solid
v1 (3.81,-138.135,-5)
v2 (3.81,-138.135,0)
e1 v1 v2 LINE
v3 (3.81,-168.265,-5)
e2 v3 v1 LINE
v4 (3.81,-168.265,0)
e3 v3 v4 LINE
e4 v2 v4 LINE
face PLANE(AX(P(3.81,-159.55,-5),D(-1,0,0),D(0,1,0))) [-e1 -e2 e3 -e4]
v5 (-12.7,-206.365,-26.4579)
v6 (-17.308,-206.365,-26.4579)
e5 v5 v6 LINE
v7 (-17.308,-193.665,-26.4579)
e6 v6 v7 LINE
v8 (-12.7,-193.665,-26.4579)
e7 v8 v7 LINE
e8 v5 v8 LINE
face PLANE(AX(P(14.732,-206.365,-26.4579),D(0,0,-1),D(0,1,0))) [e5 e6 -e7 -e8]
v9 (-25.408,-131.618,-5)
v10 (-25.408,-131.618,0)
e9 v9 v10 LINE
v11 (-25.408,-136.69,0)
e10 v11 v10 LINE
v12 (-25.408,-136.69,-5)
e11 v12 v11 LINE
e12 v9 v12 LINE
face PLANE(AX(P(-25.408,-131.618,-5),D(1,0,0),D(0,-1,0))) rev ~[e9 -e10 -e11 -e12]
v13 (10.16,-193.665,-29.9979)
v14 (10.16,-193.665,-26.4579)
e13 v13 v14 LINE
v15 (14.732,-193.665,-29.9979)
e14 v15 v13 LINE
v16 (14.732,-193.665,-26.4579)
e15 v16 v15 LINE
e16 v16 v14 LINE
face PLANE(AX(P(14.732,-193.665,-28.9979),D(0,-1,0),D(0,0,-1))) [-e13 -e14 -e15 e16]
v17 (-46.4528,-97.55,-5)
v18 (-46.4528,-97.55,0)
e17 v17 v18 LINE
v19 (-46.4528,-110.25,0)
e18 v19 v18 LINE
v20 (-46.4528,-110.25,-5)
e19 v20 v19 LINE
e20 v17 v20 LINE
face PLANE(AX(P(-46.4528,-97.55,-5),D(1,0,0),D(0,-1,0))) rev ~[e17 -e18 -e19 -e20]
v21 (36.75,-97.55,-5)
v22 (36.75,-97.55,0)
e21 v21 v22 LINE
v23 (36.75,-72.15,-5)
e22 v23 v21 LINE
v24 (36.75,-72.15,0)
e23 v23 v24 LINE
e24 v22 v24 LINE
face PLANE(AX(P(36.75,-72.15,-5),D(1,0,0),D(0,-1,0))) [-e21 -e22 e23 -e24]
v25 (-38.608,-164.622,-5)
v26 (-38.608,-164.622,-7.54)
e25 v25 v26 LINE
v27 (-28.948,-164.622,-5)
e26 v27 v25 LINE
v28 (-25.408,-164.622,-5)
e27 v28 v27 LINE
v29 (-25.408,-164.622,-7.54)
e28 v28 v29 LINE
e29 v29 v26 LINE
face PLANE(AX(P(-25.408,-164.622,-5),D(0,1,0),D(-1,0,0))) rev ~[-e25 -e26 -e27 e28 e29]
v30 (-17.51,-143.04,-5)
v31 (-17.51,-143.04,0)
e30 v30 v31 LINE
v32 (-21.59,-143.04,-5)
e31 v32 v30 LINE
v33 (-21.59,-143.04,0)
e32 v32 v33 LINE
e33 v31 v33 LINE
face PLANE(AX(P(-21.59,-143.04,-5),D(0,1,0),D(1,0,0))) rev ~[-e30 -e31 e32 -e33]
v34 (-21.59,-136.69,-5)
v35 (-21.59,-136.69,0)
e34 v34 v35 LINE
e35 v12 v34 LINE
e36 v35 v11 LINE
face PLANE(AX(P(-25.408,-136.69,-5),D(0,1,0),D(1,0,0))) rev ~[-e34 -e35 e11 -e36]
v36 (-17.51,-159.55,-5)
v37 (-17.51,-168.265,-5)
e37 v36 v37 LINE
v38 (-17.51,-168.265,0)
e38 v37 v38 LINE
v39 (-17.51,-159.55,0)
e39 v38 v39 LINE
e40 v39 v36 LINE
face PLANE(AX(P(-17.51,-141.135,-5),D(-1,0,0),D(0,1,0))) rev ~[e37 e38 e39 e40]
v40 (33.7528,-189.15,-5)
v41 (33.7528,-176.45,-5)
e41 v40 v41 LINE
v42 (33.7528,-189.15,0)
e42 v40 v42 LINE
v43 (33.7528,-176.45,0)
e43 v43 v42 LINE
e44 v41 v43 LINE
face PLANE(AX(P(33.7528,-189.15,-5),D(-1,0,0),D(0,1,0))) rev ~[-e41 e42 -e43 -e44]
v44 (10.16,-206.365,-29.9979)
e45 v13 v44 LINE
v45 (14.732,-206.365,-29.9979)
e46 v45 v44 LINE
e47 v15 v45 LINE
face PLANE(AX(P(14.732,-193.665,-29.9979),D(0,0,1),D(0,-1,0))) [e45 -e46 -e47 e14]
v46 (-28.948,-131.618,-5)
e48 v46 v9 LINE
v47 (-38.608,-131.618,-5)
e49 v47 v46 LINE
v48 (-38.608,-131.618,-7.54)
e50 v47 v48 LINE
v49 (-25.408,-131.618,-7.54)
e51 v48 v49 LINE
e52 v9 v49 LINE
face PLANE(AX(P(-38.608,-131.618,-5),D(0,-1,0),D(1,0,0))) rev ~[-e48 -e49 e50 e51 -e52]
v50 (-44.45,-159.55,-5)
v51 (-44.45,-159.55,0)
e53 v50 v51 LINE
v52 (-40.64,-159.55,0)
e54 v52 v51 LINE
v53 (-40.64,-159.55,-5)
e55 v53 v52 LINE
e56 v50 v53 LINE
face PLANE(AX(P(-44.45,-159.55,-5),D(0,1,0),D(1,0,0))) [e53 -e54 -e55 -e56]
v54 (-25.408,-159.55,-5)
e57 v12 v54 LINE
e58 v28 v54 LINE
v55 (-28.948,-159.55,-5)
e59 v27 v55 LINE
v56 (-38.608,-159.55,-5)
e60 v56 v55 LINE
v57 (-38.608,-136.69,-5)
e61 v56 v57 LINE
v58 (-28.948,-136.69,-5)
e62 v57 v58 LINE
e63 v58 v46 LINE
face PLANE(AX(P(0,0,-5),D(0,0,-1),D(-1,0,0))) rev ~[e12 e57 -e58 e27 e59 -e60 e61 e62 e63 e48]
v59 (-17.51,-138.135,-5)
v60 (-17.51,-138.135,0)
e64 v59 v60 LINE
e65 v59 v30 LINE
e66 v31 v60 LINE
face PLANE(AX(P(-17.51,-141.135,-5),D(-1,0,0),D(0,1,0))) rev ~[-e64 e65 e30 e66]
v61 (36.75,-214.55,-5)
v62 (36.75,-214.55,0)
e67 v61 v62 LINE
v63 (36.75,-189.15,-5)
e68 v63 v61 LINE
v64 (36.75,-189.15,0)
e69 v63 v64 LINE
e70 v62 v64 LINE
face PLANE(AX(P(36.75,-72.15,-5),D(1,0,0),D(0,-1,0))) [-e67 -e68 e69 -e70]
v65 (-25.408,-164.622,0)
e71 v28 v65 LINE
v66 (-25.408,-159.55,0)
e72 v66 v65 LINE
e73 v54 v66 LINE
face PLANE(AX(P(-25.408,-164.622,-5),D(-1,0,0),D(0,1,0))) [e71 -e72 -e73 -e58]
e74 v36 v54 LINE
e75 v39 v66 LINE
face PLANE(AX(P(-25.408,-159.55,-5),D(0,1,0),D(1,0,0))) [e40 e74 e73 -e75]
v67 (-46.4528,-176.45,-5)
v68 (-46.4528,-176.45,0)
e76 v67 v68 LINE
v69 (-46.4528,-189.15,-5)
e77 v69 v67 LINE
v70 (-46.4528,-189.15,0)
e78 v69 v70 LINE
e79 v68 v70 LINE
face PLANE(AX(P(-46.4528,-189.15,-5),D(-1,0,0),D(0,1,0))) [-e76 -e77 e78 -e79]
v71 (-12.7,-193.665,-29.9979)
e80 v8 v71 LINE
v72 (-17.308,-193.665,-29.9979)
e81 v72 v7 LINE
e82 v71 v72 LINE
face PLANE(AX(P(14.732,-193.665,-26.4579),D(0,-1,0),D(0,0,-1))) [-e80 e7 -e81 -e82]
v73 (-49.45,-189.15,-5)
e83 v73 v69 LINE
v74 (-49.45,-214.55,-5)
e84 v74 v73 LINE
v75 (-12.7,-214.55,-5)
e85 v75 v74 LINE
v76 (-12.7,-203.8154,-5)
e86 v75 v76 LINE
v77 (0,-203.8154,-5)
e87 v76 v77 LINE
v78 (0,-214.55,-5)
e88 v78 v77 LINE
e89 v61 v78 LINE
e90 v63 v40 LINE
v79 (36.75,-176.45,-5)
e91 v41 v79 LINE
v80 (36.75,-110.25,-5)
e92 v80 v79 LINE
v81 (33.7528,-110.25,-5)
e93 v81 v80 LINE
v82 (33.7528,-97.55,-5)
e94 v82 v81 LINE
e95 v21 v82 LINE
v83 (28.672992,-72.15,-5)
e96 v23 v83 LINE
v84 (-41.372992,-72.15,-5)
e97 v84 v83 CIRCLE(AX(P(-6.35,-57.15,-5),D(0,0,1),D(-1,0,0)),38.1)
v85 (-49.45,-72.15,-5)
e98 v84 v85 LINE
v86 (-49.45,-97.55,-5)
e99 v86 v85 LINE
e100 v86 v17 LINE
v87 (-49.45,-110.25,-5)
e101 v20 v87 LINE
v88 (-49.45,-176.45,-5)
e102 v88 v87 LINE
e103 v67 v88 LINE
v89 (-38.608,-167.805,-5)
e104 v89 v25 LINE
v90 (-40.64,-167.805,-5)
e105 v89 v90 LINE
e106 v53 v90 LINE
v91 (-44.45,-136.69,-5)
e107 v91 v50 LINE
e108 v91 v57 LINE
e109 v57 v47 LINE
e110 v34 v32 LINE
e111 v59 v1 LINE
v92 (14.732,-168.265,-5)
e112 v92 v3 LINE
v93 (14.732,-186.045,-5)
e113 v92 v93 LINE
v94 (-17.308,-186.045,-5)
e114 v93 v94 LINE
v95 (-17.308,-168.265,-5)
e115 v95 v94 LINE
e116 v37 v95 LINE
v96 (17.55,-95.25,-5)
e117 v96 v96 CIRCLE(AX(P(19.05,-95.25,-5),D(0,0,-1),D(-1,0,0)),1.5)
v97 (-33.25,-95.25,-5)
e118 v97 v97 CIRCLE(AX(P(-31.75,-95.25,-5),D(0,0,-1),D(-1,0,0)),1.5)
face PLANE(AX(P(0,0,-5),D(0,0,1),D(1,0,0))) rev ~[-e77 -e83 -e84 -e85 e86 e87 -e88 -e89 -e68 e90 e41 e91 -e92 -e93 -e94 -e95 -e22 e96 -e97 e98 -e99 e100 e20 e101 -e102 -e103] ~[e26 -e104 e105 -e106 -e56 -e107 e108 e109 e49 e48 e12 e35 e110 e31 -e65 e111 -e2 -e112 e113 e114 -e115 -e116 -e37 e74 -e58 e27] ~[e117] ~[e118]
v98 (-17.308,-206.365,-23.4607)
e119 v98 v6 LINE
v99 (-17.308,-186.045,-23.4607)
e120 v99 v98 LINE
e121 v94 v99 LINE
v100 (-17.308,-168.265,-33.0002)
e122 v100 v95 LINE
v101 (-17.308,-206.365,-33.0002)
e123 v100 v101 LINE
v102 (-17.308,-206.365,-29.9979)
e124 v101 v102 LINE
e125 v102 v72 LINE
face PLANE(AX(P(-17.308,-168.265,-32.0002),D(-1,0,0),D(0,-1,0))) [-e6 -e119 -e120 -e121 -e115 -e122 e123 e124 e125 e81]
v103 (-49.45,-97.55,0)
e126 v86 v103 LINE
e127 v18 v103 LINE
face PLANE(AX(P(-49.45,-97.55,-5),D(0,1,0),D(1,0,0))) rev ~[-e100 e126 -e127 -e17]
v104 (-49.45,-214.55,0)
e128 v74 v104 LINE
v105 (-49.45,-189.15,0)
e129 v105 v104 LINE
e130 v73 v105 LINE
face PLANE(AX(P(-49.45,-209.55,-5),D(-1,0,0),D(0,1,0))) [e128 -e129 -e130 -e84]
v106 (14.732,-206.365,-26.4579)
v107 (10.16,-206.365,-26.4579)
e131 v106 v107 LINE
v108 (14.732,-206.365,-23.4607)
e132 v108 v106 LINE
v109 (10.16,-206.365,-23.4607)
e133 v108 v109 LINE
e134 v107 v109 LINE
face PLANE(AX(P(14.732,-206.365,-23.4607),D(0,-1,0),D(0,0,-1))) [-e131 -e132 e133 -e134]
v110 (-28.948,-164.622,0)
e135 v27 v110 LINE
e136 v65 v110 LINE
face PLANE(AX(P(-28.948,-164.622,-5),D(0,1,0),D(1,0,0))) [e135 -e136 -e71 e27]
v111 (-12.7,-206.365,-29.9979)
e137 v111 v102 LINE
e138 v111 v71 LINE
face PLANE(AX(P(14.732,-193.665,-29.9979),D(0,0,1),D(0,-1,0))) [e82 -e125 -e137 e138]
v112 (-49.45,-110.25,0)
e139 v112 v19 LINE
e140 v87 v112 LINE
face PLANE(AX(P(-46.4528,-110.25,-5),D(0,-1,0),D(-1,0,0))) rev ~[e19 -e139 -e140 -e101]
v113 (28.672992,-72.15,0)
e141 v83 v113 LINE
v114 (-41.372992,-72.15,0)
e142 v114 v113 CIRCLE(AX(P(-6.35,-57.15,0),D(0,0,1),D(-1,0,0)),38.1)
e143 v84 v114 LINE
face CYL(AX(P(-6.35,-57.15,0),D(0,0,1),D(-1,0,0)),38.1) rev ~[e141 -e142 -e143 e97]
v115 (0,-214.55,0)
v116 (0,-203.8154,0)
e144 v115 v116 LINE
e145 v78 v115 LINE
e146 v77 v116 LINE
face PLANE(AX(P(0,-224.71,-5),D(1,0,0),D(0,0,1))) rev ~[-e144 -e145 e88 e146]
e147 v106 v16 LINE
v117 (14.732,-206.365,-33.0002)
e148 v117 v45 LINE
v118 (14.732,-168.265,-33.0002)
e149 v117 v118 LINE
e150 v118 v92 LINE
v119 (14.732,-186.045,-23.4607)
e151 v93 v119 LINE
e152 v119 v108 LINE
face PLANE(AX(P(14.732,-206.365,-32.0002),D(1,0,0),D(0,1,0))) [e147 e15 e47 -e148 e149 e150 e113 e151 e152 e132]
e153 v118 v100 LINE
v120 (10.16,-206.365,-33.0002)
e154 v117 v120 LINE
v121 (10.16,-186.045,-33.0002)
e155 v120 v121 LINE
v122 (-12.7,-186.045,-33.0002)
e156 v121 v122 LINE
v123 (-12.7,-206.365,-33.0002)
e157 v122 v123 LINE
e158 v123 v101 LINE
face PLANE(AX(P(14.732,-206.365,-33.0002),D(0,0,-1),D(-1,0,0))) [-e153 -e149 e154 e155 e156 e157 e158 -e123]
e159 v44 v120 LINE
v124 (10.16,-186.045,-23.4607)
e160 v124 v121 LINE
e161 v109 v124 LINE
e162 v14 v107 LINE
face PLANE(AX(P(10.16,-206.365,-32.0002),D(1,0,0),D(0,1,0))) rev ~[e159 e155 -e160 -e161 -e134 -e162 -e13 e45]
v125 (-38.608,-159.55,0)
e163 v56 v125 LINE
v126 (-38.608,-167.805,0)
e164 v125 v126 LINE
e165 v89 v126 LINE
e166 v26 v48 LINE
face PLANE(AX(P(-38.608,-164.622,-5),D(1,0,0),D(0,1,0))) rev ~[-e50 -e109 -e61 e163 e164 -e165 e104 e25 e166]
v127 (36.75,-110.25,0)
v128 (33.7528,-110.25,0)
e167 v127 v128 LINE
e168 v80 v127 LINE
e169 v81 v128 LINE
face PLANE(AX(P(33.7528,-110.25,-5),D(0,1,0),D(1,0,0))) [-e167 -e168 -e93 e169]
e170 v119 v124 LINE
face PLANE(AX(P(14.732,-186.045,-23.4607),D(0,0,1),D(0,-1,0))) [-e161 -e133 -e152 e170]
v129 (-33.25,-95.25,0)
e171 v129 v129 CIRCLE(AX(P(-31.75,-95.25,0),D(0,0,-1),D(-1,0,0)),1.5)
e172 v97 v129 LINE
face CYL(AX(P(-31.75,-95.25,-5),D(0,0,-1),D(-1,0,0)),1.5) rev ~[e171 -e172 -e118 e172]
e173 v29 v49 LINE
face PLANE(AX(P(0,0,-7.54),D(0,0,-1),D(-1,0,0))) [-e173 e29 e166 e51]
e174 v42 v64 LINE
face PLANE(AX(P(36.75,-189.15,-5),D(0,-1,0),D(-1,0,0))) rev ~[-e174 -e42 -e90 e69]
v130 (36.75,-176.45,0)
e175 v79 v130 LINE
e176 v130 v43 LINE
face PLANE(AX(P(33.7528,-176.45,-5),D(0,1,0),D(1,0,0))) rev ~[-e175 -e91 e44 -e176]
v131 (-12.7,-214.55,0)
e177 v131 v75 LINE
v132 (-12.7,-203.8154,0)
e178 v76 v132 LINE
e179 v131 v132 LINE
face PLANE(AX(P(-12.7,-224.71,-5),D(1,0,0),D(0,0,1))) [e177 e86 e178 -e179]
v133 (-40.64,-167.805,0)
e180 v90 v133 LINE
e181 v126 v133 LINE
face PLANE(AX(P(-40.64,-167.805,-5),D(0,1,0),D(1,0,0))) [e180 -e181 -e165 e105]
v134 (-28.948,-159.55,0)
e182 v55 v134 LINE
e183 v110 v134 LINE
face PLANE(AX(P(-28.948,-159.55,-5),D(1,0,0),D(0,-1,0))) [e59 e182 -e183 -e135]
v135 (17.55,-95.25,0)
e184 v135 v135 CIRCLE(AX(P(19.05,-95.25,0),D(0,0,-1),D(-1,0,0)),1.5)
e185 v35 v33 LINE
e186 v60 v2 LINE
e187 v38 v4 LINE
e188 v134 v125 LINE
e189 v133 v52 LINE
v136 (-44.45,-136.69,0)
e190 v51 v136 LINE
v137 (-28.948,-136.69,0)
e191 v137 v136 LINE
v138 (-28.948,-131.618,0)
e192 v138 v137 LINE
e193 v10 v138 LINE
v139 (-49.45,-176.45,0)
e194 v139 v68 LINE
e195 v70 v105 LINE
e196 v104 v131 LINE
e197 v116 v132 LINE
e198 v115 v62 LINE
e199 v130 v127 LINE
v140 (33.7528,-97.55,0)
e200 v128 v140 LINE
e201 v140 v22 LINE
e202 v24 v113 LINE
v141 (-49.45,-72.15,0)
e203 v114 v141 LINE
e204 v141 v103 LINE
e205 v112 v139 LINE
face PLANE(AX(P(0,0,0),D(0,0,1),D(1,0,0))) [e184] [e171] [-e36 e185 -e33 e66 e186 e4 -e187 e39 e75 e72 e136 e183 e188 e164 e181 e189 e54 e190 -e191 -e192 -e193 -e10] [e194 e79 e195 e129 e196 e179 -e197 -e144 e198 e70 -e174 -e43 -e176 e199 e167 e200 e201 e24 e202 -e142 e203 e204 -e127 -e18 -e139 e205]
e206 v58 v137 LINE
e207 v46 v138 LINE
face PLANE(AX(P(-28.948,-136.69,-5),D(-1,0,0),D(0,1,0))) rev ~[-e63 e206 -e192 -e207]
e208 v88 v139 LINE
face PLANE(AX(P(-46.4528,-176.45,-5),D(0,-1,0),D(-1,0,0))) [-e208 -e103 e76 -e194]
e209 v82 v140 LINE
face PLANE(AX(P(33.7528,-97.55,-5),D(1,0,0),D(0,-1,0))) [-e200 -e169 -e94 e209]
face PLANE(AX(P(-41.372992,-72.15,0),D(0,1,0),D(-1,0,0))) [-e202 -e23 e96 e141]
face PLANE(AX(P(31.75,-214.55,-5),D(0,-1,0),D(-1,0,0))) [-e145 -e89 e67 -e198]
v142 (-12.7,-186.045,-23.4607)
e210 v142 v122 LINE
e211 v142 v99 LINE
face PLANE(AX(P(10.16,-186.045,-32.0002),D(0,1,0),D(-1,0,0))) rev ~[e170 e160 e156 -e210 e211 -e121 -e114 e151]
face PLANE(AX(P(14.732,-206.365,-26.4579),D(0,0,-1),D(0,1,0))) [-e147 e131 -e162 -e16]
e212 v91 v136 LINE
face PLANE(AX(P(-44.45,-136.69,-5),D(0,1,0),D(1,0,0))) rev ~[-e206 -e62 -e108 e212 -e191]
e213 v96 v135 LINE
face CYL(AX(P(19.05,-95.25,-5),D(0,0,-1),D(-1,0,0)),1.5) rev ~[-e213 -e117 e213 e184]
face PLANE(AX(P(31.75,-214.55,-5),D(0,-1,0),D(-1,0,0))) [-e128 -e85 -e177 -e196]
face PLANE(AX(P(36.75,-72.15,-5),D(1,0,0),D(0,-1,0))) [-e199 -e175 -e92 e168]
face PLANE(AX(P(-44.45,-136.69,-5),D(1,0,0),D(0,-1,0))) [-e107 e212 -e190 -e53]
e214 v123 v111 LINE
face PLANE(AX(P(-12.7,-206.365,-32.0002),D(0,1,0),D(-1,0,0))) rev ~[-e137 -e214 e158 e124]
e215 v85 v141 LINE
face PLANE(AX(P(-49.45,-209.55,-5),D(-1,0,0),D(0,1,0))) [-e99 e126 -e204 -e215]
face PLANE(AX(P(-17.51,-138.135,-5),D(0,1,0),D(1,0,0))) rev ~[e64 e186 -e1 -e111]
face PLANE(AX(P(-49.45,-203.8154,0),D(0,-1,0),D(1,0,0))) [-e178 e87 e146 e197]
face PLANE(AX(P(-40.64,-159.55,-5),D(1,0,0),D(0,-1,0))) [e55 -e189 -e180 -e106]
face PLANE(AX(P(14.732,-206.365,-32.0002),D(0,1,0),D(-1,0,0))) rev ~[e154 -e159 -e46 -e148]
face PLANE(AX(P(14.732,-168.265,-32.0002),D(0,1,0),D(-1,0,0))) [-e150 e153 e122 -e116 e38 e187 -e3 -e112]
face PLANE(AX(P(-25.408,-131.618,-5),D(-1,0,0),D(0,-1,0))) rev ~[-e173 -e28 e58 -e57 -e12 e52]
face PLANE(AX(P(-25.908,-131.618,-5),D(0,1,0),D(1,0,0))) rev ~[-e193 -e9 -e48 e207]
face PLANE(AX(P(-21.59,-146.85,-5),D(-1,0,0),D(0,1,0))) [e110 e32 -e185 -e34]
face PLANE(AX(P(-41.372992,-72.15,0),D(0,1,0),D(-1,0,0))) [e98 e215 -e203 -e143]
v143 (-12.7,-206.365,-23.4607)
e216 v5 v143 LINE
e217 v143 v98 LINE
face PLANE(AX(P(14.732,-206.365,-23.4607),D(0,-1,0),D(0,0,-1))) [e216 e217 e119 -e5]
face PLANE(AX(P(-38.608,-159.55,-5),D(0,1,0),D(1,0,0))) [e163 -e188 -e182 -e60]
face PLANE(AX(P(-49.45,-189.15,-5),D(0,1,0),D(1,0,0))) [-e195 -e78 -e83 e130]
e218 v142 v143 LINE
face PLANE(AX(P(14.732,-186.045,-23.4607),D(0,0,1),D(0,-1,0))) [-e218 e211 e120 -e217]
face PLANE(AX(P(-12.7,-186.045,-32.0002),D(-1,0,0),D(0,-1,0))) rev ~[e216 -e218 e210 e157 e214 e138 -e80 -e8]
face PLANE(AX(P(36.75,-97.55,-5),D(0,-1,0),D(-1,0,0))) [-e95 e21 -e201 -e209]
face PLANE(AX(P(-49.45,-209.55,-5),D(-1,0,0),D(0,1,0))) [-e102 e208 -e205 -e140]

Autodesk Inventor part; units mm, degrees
ref_plane "YZ Plane" through (0, 0, 0) normal (1, 0, 0) x (0, 1, 0)
ref_plane "XZ Plane" through (0, 0, 0) normal (0, 1, 0) x (-1, 0, 0)
ref_plane "XY Plane" through (0, 0, 0) normal (0, 0, 1) x (1, 0, 0)
sketch "Sketch1" plane through (0, 0, 0) normal (0, 0, 1) x (1, 0, 0)
  line L0 (31.75, -57.15) -> (31.75, 82.55)
  line L1 (31.75, 82.55) -> (-44.45, 82.55)
  line L2 (-44.45, 82.55) -> (-44.45, -57.15)
  arc A0 (-44.45, -57.15) -> (31.75, -57.15) centre (-6.35, -57.15) ccw
  line L3 (31.75, -57.15) -> (31.75, -209.55)
  line L4 (31.75, -209.55) -> (-44.45, -209.55)
  line L5 (-44.45, -209.55) -> (-44.45, -57.15)
  line L6 (31.75, -57.15) -> (-44.45, -57.15)
  circle A1 centre (-6.35, -57.15) radius 38.1
  point P0 (0, 0)
  dimension "d0" = 152.4
  dimension "d6" = 76.2
extrude "Extrusion1" add sketch "Sketch1" against normal blind 5 contours L3 L4 L5 A0
sketch "Sketch2" plane through (0, 0, 0) normal (0, 0, 1) x (1, 0, 0)
  arc A0 (-44.45, -57.15) -> (31.75, -57.15) centre (-6.35, -57.15) ccw projected
  line L0 (31.75, -57.15) -> (31.75, -209.55) projected
  line L1 (-44.45, -57.15) -> (31.75, -57.15)
  line L2 (31.75, -57.15) -> (31.75, -72.15)
  line L3 (31.75, -72.15) -> (-44.45, -72.15)
  line L4 (-44.45, -72.15) -> (-44.45, -57.15)
  point P0 (0, 0)
  dimension "d3" = 15
extrude "Extrusion2" cut sketch "Sketch2" against normal blind 5 contours L1 A0 L3 | A0 L3 L4 | L0 L3 A0
sketch "Sketch3" plane through (0, 0, -5) normal (0, 0, -1) x (-1, 0, 0)
  line L0 (16.51, -146.85) -> (16.51, -159.55) projected
  line L1 (-3.81, -159.55) -> (-3.81, -146.85) projected
  line L2 (16.51, -159.55) -> (16.51, -161.55)
  line L3 (-3.81, -146.85) -> (-3.81, -144.85)
  line L4 (4.857, -150.5555) -> (16.51, -161.55)
  line L5 (8.3369, -156.3105) -> (-3.81, -144.85)
  line L6 (16.51, -141.135) -> (12.446, -141.135)
  line L7 (16.51, -165.265) -> (12.446, -165.265)
  line L8 (16.51, -141.135) -> (17.51, -141.135)
  line L9 (17.51, -141.135) -> (17.51, -138.135)
  line L10 (17.51, -138.135) -> (-3.81, -138.135)
  line L11 (-3.81, -138.135) -> (-3.81, -163.265)
  line L12 (-3.81, -163.265) -> (-3.81, -164.265)
  line L13 (17.51, -138.135) -> (17.51, -165.265)
  line L14 (17.51, -165.265) -> (17.51, -168.265)
  line L15 (17.51, -168.265) -> (-3.81, -168.265)
  line L16 (-3.81, -168.265) -> (-3.81, -164.265)
  point P0 (0, 0)
  point P1 (17.51, -164.265)
  dimension "d7" = 2
  dimension "d8" = 2
  dimension "d28" = 1
  dimension "d29" = 3
  dimension "d30" = 1
  dimension "d73" = 3
extrude "Extrusion3" cut sketch "Sketch3" against normal blind 5
sketch "Sketch4" plane through (0, 0, -5) normal (0, 0, -1) x (-1, 0, 0)
  line L0 (-31.75, -72.15) -> (-28.673, -72.15) projected
  line L1 (-31.75, -72.15) -> (-36.75, -72.15)
  line L2 (-36.75, -72.15) -> (-36.75, -209.55)
  line L3 (-36.75, -209.55) -> (-36.75, -214.55)
  line L4 (-36.75, -214.55) -> (44.45, -214.55)
  line L5 (44.45, -214.55) -> (49.45, -214.55)
  line L6 (49.45, -214.55) -> (49.45, -72.15)
  line L7 (49.45, -72.15) -> (44.45, -72.15)
  line L8 (44.45, -72.15) -> (44.45, -214.55)
  line L9 (44.45, -214.55) -> (49.45, -214.55)
  line L10 (49.45, -214.55) -> (49.45, -72.15)
  line L11 (49.45, -214.55) -> (-36.75, -214.55)
  line L12 (-36.75, -214.55) -> (-36.75, -209.55)
  line L13 (-36.75, -209.55) -> (49.45, -209.55)
  line L14 (49.45, -209.55) -> (49.45, -214.55)
  line L15 (-36.75, -214.55) -> (-31.75, -214.55)
  line L16 (-31.75, -214.55) -> (-31.75, -72.15)
  line L17 (-31.75, -72.15) -> (-36.75, -72.15)
  line L18 (-36.75, -72.15) -> (-36.75, -214.55)
  point P0 (0, 0)
  dimension "d11" = 5
  dimension "d12" = 5
  dimension "d13" = 5
extrude "Extrusion4" add sketch "Sketch4" against normal blind 5
sketch "Sketch6" plane through (-49.45, -214.55, 0) normal (0, -1, 0) x (1, 0, 0)
  line L0 (32.94, 0) -> (53.26, 0) projected
  line L1 (43.1, 0) -> (36.75, 0)
  line L2 (36.75, 0) -> (49.45, 0)
  line L3 (86.2, -5) -> (0, -5) projected
  line L4 (49.45, 0) -> (36.75, 0)
  line L5 (36.75, 0) -> (36.75, -5)
  line L6 (36.75, -5) -> (49.45, -5)
  line L7 (49.45, -5) -> (49.45, 0)
  point P0 (64.1616, -5)
  dimension "d18" = 6.35
  dimension "d19" = 12.7
extrude "Extrusion6" add sketch "Sketch6" along normal blind 10.16
sketch "Sketch7" plane through (0, 0, -5) normal (0, 0, -1) x (-1, 0, 0)
  line L0 (12.7, -224.71) -> (0, -224.71) projected
  line L1 (6.35, -224.71) -> (6.35, -220.9)
  circle A0 centre (6.35, -220.9) radius 1.75
  point P0 (0, 0)
  dimension "d26" = 3.81
  dimension "d27" = 3.5
extrude "Extrusion7" cut sketch "Sketch7" against normal blind 6.35
sketch "Sketch8" plane through (0, 0, -5) normal (0, 0, -1) x (-1, 0, 0)
  line L0 (44.45, -136.69) -> (28.448, -136.69) projected
  line L1 (44.45, -158.28) -> (44.45, -137.96) projected
  line L2 (44.45, -136.69) -> (44.45, -137.96) projected
  line L3 (44.45, -158.28) -> (44.45, -159.55) projected
  line L4 (44.45, -159.55) -> (28.448, -159.55) projected
  line L5 (39.116, -159.55) -> (40.132, -159.55) projected
  line L6 (39.116, -159.55) -> (39.116, -162.09) projected
  line L7 (40.132, -162.09) -> (39.116, -162.09) projected
  line L8 (40.132, -159.55) -> (40.132, -162.09) projected
  line L9 (25.908, -137.96) -> (21.59, -137.96) projected
  line L10 (21.59, -153.2) -> (21.59, -137.96) projected
  line L11 (21.59, -158.28) -> (21.59, -153.2) projected
  line L12 (25.908, -158.28) -> (21.59, -158.28) projected
  line L13 (25.908, -158.28) -> (25.908, -164.122) projected
  line L14 (25.908, -164.122) -> (28.448, -164.122) projected
  line L15 (28.448, -158.28) -> (28.448, -164.122) projected
  line L16 (44.45, -158.28) -> (28.448, -158.28) projected
  line L17 (44.45, -158.28) -> (44.45, -137.96) projected
  line L18 (44.45, -137.96) -> (28.448, -137.96) projected
  line L19 (28.448, -132.118) -> (28.448, -137.96) projected
  line L20 (25.908, -132.118) -> (28.448, -132.118) projected
  line L21 (25.908, -132.118) -> (25.908, -137.96) projected
  line L22 (25.908, -136.69) -> (21.59, -136.69) projected
  line L23 (21.59, -136.69) -> (21.59, -137.96) projected
  line L24 (25.908, -159.55) -> (21.59, -159.55) projected
  line L25 (21.59, -159.55) -> (16.51, -159.55)
  line L26 (21.59, -146.85) -> (16.51, -146.85)
  line L27 (17.51, -140.135) -> (17.51, -166.265) projected
  line L28 (44.45, -159.55) -> (21.59, -159.55)
  line L29 (21.59, -159.55) -> (21.59, -136.69)
  line L30 (21.59, -136.69) -> (44.45, -136.69)
  line L31 (44.45, -136.69) -> (44.45, -159.55)
  line L32 (28.448, -132.118) -> (25.908, -132.118)
  line L33 (25.908, -132.118) -> (25.908, -136.69)
  line L34 (25.908, -136.69) -> (28.448, -136.69)
  line L35 (28.448, -136.69) -> (28.448, -132.118)
  line L36 (25.908, -159.55) -> (28.448, -159.55)
  line L37 (28.448, -159.55) -> (28.448, -164.122)
  line L38 (28.448, -164.122) -> (25.908, -164.122)
  line L39 (25.908, -164.122) -> (25.908, -159.55)
  line L40 (40.132, -162.09) -> (39.116, -162.09)
  line L41 (39.116, -162.09) -> (39.116, -159.55)
  line L42 (39.116, -159.55) -> (40.132, -159.55)
  line L43 (40.132, -159.55) -> (40.132, -162.09)
  line L44 (16.51, -146.85) -> (21.59, -146.85)
  line L45 (21.59, -146.85) -> (21.59, -159.55)
  line L46 (21.59, -159.55) -> (16.51, -159.55)
  line L47 (16.51, -159.55) -> (16.51, -146.85)
  line L48 (40.132, -159.55) -> (40.64, -159.55)
  line L49 (40.64, -159.55) -> (40.64, -167.805)
  line L50 (40.64, -167.805) -> (39.116, -167.805)
  line L51 (39.116, -167.805) -> (38.608, -167.805)
  line L52 (38.608, -167.805) -> (38.608, -159.55)
  line L53 (40.64, -167.805) -> (38.608, -167.805)
  line L54 (38.608, -167.805) -> (38.608, -159.55)
  line L55 (38.608, -159.55) -> (40.64, -159.55)
  line L56 (40.64, -159.55) -> (40.64, -167.805)
  line L57 (28.448, -136.69) -> (28.948, -136.69)
  line L58 (28.948, -136.69) -> (28.948, -132.118)
  line L59 (28.948, -132.118) -> (28.948, -131.618)
  line L60 (28.948, -131.618) -> (25.908, -131.618)
  line L61 (25.908, -131.618) -> (25.408, -131.618)
  line L62 (25.408, -131.618) -> (25.408, -136.69)
  line L63 (44.45, -148.12) -> (42.0007, -148.12)
  line L64 (28.448, -164.122) -> (28.448, -158.28)
  line L65 (25.908, -164.122) -> (28.448, -164.122)
  line L66 (25.908, -164.122) -> (25.908, -158.28)
  line L67 (28.448, -164.122) -> (25.908, -164.122)
  line L68 (25.908, -164.122) -> (25.908, -159.55)
  line L69 (28.448, -159.55) -> (28.448, -164.122)
  line L70 (28.948, -159.55) -> (28.948, -164.122)
  line L71 (28.948, -164.122) -> (28.948, -164.622)
  line L72 (28.948, -164.622) -> (25.908, -164.622)
  line L73 (25.908, -164.622) -> (25.408, -164.622)
  line L74 (25.408, -164.622) -> (25.408, -159.55)
  line L75 (28.948, -159.55) -> (25.408, -159.55)
  line L76 (25.408, -159.55) -> (25.408, -164.622)
  line L77 (25.408, -164.622) -> (28.948, -164.622)
  line L78 (28.948, -164.622) -> (28.948, -159.55)
  point P0 (0, 0)
  dimension "d33" = 0.508
  dimension "d34" = 8.255
  dimension "d35" = 0.508
  dimension "d45" = 0.5
  dimension "d46" = 0.5
  dimension "d47" = 0.5
extrude "Extrusion8" cut sketch "Sketch8" against normal blind 25.4
ref_plane "Work Plane1" through (-5.588, -193.539, -26.4481) normal (1, 0, 0) x (0, 0, 1)
sketch "Sketch18" plane through (0, 0, -5) normal (0, 0, -1) x (-1, 0, 0)
  line L0 (-36.75, -72.15) -> (-28.673, -72.15) projected
  line L1 (-36.75, -72.15) -> (-36.75, -97.55)
  line L2 (-36.75, -214.55) -> (-36.75, -72.15) projected
  line L3 (-36.75, -97.55) -> (-33.7528, -97.55)
  line L4 (-33.7528, -97.55) -> (-33.7528, -110.25)
  line L5 (-33.7528, -110.25) -> (-36.75, -110.25)
  line L6 (-36.75, -110.25) -> (-36.75, -97.55)
  line L7 (-36.75, -214.55) -> (-36.75, -189.15)
  line L8 (-36.75, -189.15) -> (-33.7528, -189.15)
  line L9 (-33.7528, -189.15) -> (-33.7528, -176.45)
  line L10 (-33.7528, -176.45) -> (-36.75, -176.45)
  line L11 (-36.75, -176.45) -> (-36.75, -189.15)
  line L12 (0, -224.71) -> (12.7, -224.71) projected
  line L13 (6.35, -224.71) -> (6.35, -239.7955)
  line L14 (49.45, -72.15) -> (41.373, -72.15)
  line L15 (49.45, -72.15) -> (49.45, -97.55)
  line L16 (49.45, -214.55) -> (49.45, -72.15)
  line L17 (49.45, -97.55) -> (46.4528, -97.55)
  line L18 (46.4528, -97.55) -> (46.4528, -110.25)
  line L19 (46.4528, -110.25) -> (49.45, -110.25)
  line L20 (49.45, -110.25) -> (49.45, -97.55)
  line L21 (49.45, -214.55) -> (49.45, -189.15)
  line L22 (49.45, -189.15) -> (46.4528, -189.15)
  line L23 (46.4528, -189.15) -> (46.4528, -176.45)
  line L24 (46.4528, -176.45) -> (49.45, -176.45)
  line L25 (49.45, -176.45) -> (49.45, -189.15)
  point P0 (0, 0)
  dimension "d83" = 25.4
  dimension "d84" = 12.7
  dimension "d85" = 2.9972
  dimension "d86" = 25.4
  dimension "d87" = 12.7
  dimension "d88" = 2.9972
extrude "Extrusion18" cut sketch "Sketch18" against normal blind 10
sketch "Sketch20" plane through (-49.45, -224.71, 0) normal (0, -1, 0) x (1, 0, 0)
  line L0 (36.75, -5) -> (36.75, 0) projected
  line L1 (36.75, -5) -> (49.45, -5)
  line L2 (49.45, -5) -> (49.45, 0)
  line L3 (49.45, 0) -> (36.75, 0)
  line L4 (36.75, 0) -> (36.75, -5)
extrude "Extrusion19" cut sketch "Sketch20" against normal blind 20.8946
sketch "Sketch22" plane through (0, 0, -5) normal (0, 0, -1) x (-1, 0, 0)
  line L0 (25.408, -159.55) -> (25.408, -164.622) projected
  line L1 (25.408, -164.622) -> (38.608, -164.622)
  line L2 (38.608, -164.622) -> (38.608, -131.618)
  line L3 (38.608, -131.618) -> (25.408, -131.618)
  line L4 (25.408, -131.618) -> (25.408, -164.622)
  point P0 (0, 0)
extrude "Extrusion21" add sketch "Sketch22" along normal blind 2.54
ref_plane "Work Plane2" through (14.732, -52.9, -29.002) normal (1, 0, 0) x (0, 0, -1)
sketch "Sketch24" plane through (14.732, -52.9, -29.002) normal (1, 0, 0) x (0, 0, -1)
  line L0 (0, -25.4) -> (0, -38.1) construction
  line L1 (0, -38.1) -> (3, -38.1) construction
  line L2 (3, 0) -> (3, -38.1) projected
  line L3 (-24.002, 0) -> (3, 0) construction
  line L4 (-24.002, -17.78) -> (-24.002, 0) construction
  line L5 (-5.54, -17.78) -> (-24.002, -17.78) construction
  line L6 (-5.54, -38.1) -> (-5.54, -17.78) construction
  line L7 (-2.54, -38.1) -> (-5.54, -38.1) construction
  line L8 (-2.54, -38.1) -> (-2.54, -25.4) construction
  line L9 (-2.54, -25.4) -> (0, -25.4) construction
  line L10 (-24.002, -115.365) -> (-29.002, -115.365) projected
  line L11 (-24.002, -115.365) -> (-24.002, -133.145)
  line L12 (-24.002, -115.365) -> (2.9982, -115.365)
  line L13 (2.9982, -115.365) -> (2.9982, -153.465)
  line L14 (-24.002, -133.145) -> (-5.5413, -133.145)
  line L15 (-5.5413, -133.145) -> (-5.5413, -153.465)
  line L16 (-5.5413, -153.465) -> (-2.5441, -153.465)
  line L17 (-2.5441, -153.465) -> (-2.5441, -140.765)
  line L18 (-2.5441, -140.765) -> (-0.0041, -140.765)
  line L19 (-0.0041, -140.765) -> (-0.0041, -153.465)
  line L20 (-0.0041, -153.465) -> (2.9982, -153.465)
  point P0 (-29.002, 52.9)
  dimension "d102" = 17.78
  dimension "d103" = 27.0002
  dimension "d104" = 38.1
  dimension "d106" = 18.4607
  dimension "d107" = 20.32
  dimension "d108" = 2.9972
  dimension "d109" = 12.7
  dimension "d110" = 2.54
extrude "Extrusion23" add sketch "Sketch24" against normal blind 32.04
sketch "Sketch25" plane through (14.732, -206.365, -32.0002) normal (0, 0, -1) x (-1, 0, 0)
  line L0 (27.432, 135.685) -> (27.432, 115.365) projected
  line L1 (4.572, 115.365) -> (4.572, 135.685) projected
  line L2 (27.432, 115.365) -> (32.004, 115.365) projected
  line L3 (0, 0) -> (32.04, 0) projected
  line L4 (32.04, 0) -> (27.468, 0)
  line L5 (0, 0) -> (4.572, 0)
  line L6 (4.572, 0) -> (27.432, 0)
  line L7 (27.432, 0) -> (27.432, 20.32)
  line L8 (27.432, 20.32) -> (4.572, 20.32)
  line L9 (4.572, 20.32) -> (4.572, 0)
  point P0 (14.732, 206.365)
  dimension "d113" = 4.572
  dimension "d114" = 4.572
  dimension "d115" = 20.32
extrude "Extrusion24" cut sketch "Sketch25" against normal blind 10
sketch "Sketch26" plane through (0, 0, -5) normal (0, 0, -1) x (-1, 0, 0)
  circle A0 centre (-19.05, -95.25) radius 2 projected
  circle A1 centre (31.75, -95.25) radius 2 projected
  circle A2 centre (31.75, -95.25) radius 1.5
  circle A3 centre (-19.05, -95.25) radius 1.5
  point P0 (0, 0)
  dimension "d118" = 3
  dimension "d119" = 3
extrude "Extrusion25" cut sketch "Sketch26" against normal blind 10 contours A2 | A3
sketch "Sketch27" plane through (14.732, -206.365, -32.0002) normal (0, 0, -1) x (-1, 0, 0)
  line L0 (4.572, 0) -> (4.572, 20.32) projected
  line L1 (4.572, 20.32) -> (27.432, 20.32) projected
  line L2 (27.432, 20.32) -> (27.432, 0) projected
  line L3 (27.432, 0) -> (32.04, 0) projected
  line L4 (32.04, 38.1) -> (32.04, 0) projected
  line L5 (0, 38.1) -> (32.04, 38.1) projected
  line L6 (0, 0) -> (0, 38.1) projected
  line L7 (0, 0) -> (4.572, 0) projected
  point P0 (14.732, 206.365)
extrude "Extrusion26" add sketch "Sketch27" along normal blind 1
sketch "Sketch28" plane through (14.732, -52.9, -29.002) normal (1, 0, 0) x (0, 0, -1)
  line L0 (-2.5441, -140.765) -> (-0.0041, -140.765) projected
  line L1 (-0.0041, -153.465) -> (3.9982, -153.465) projected
  line L2 (-0.0041, -140.765) -> (0.9959, -140.765)
  line L3 (0.9959, -140.765) -> (0.9959, -153.465)
  line L4 (0.9959, -153.465) -> (-0.0041, -153.465)
  line L5 (-0.0041, -153.465) -> (-0.0041, -140.765)
  point P0 (-29.002, 52.9)
  dimension "d124" = 1
extrude "Extrusion27" cut sketch "Sketch28" against normal blind 3098.8
sketch "Sketch29" plane through (0, 0, -5) normal (0, 0, -1) x (-1, 0, 0)
  line L0 (21.59, -146.85) -> (17.51, -146.85) projected
  line L1 (21.59, -146.85) -> (21.59, -143.04)
  line L2 (21.59, -136.69) -> (21.59, -146.85) projected
  line L3 (21.59, -143.04) -> (17.51, -143.04)
  line L4 (17.51, -143.04) -> (17.51, -146.85)
  line L5 (17.51, -146.85) -> (21.59, -146.85)
  point P0 (0, 0)
  dimension "d127" = 3.81
extrude "Extrusion28" cut sketch "Sketch29" against normal blind 3098.8
properties part number "Backhalf"
